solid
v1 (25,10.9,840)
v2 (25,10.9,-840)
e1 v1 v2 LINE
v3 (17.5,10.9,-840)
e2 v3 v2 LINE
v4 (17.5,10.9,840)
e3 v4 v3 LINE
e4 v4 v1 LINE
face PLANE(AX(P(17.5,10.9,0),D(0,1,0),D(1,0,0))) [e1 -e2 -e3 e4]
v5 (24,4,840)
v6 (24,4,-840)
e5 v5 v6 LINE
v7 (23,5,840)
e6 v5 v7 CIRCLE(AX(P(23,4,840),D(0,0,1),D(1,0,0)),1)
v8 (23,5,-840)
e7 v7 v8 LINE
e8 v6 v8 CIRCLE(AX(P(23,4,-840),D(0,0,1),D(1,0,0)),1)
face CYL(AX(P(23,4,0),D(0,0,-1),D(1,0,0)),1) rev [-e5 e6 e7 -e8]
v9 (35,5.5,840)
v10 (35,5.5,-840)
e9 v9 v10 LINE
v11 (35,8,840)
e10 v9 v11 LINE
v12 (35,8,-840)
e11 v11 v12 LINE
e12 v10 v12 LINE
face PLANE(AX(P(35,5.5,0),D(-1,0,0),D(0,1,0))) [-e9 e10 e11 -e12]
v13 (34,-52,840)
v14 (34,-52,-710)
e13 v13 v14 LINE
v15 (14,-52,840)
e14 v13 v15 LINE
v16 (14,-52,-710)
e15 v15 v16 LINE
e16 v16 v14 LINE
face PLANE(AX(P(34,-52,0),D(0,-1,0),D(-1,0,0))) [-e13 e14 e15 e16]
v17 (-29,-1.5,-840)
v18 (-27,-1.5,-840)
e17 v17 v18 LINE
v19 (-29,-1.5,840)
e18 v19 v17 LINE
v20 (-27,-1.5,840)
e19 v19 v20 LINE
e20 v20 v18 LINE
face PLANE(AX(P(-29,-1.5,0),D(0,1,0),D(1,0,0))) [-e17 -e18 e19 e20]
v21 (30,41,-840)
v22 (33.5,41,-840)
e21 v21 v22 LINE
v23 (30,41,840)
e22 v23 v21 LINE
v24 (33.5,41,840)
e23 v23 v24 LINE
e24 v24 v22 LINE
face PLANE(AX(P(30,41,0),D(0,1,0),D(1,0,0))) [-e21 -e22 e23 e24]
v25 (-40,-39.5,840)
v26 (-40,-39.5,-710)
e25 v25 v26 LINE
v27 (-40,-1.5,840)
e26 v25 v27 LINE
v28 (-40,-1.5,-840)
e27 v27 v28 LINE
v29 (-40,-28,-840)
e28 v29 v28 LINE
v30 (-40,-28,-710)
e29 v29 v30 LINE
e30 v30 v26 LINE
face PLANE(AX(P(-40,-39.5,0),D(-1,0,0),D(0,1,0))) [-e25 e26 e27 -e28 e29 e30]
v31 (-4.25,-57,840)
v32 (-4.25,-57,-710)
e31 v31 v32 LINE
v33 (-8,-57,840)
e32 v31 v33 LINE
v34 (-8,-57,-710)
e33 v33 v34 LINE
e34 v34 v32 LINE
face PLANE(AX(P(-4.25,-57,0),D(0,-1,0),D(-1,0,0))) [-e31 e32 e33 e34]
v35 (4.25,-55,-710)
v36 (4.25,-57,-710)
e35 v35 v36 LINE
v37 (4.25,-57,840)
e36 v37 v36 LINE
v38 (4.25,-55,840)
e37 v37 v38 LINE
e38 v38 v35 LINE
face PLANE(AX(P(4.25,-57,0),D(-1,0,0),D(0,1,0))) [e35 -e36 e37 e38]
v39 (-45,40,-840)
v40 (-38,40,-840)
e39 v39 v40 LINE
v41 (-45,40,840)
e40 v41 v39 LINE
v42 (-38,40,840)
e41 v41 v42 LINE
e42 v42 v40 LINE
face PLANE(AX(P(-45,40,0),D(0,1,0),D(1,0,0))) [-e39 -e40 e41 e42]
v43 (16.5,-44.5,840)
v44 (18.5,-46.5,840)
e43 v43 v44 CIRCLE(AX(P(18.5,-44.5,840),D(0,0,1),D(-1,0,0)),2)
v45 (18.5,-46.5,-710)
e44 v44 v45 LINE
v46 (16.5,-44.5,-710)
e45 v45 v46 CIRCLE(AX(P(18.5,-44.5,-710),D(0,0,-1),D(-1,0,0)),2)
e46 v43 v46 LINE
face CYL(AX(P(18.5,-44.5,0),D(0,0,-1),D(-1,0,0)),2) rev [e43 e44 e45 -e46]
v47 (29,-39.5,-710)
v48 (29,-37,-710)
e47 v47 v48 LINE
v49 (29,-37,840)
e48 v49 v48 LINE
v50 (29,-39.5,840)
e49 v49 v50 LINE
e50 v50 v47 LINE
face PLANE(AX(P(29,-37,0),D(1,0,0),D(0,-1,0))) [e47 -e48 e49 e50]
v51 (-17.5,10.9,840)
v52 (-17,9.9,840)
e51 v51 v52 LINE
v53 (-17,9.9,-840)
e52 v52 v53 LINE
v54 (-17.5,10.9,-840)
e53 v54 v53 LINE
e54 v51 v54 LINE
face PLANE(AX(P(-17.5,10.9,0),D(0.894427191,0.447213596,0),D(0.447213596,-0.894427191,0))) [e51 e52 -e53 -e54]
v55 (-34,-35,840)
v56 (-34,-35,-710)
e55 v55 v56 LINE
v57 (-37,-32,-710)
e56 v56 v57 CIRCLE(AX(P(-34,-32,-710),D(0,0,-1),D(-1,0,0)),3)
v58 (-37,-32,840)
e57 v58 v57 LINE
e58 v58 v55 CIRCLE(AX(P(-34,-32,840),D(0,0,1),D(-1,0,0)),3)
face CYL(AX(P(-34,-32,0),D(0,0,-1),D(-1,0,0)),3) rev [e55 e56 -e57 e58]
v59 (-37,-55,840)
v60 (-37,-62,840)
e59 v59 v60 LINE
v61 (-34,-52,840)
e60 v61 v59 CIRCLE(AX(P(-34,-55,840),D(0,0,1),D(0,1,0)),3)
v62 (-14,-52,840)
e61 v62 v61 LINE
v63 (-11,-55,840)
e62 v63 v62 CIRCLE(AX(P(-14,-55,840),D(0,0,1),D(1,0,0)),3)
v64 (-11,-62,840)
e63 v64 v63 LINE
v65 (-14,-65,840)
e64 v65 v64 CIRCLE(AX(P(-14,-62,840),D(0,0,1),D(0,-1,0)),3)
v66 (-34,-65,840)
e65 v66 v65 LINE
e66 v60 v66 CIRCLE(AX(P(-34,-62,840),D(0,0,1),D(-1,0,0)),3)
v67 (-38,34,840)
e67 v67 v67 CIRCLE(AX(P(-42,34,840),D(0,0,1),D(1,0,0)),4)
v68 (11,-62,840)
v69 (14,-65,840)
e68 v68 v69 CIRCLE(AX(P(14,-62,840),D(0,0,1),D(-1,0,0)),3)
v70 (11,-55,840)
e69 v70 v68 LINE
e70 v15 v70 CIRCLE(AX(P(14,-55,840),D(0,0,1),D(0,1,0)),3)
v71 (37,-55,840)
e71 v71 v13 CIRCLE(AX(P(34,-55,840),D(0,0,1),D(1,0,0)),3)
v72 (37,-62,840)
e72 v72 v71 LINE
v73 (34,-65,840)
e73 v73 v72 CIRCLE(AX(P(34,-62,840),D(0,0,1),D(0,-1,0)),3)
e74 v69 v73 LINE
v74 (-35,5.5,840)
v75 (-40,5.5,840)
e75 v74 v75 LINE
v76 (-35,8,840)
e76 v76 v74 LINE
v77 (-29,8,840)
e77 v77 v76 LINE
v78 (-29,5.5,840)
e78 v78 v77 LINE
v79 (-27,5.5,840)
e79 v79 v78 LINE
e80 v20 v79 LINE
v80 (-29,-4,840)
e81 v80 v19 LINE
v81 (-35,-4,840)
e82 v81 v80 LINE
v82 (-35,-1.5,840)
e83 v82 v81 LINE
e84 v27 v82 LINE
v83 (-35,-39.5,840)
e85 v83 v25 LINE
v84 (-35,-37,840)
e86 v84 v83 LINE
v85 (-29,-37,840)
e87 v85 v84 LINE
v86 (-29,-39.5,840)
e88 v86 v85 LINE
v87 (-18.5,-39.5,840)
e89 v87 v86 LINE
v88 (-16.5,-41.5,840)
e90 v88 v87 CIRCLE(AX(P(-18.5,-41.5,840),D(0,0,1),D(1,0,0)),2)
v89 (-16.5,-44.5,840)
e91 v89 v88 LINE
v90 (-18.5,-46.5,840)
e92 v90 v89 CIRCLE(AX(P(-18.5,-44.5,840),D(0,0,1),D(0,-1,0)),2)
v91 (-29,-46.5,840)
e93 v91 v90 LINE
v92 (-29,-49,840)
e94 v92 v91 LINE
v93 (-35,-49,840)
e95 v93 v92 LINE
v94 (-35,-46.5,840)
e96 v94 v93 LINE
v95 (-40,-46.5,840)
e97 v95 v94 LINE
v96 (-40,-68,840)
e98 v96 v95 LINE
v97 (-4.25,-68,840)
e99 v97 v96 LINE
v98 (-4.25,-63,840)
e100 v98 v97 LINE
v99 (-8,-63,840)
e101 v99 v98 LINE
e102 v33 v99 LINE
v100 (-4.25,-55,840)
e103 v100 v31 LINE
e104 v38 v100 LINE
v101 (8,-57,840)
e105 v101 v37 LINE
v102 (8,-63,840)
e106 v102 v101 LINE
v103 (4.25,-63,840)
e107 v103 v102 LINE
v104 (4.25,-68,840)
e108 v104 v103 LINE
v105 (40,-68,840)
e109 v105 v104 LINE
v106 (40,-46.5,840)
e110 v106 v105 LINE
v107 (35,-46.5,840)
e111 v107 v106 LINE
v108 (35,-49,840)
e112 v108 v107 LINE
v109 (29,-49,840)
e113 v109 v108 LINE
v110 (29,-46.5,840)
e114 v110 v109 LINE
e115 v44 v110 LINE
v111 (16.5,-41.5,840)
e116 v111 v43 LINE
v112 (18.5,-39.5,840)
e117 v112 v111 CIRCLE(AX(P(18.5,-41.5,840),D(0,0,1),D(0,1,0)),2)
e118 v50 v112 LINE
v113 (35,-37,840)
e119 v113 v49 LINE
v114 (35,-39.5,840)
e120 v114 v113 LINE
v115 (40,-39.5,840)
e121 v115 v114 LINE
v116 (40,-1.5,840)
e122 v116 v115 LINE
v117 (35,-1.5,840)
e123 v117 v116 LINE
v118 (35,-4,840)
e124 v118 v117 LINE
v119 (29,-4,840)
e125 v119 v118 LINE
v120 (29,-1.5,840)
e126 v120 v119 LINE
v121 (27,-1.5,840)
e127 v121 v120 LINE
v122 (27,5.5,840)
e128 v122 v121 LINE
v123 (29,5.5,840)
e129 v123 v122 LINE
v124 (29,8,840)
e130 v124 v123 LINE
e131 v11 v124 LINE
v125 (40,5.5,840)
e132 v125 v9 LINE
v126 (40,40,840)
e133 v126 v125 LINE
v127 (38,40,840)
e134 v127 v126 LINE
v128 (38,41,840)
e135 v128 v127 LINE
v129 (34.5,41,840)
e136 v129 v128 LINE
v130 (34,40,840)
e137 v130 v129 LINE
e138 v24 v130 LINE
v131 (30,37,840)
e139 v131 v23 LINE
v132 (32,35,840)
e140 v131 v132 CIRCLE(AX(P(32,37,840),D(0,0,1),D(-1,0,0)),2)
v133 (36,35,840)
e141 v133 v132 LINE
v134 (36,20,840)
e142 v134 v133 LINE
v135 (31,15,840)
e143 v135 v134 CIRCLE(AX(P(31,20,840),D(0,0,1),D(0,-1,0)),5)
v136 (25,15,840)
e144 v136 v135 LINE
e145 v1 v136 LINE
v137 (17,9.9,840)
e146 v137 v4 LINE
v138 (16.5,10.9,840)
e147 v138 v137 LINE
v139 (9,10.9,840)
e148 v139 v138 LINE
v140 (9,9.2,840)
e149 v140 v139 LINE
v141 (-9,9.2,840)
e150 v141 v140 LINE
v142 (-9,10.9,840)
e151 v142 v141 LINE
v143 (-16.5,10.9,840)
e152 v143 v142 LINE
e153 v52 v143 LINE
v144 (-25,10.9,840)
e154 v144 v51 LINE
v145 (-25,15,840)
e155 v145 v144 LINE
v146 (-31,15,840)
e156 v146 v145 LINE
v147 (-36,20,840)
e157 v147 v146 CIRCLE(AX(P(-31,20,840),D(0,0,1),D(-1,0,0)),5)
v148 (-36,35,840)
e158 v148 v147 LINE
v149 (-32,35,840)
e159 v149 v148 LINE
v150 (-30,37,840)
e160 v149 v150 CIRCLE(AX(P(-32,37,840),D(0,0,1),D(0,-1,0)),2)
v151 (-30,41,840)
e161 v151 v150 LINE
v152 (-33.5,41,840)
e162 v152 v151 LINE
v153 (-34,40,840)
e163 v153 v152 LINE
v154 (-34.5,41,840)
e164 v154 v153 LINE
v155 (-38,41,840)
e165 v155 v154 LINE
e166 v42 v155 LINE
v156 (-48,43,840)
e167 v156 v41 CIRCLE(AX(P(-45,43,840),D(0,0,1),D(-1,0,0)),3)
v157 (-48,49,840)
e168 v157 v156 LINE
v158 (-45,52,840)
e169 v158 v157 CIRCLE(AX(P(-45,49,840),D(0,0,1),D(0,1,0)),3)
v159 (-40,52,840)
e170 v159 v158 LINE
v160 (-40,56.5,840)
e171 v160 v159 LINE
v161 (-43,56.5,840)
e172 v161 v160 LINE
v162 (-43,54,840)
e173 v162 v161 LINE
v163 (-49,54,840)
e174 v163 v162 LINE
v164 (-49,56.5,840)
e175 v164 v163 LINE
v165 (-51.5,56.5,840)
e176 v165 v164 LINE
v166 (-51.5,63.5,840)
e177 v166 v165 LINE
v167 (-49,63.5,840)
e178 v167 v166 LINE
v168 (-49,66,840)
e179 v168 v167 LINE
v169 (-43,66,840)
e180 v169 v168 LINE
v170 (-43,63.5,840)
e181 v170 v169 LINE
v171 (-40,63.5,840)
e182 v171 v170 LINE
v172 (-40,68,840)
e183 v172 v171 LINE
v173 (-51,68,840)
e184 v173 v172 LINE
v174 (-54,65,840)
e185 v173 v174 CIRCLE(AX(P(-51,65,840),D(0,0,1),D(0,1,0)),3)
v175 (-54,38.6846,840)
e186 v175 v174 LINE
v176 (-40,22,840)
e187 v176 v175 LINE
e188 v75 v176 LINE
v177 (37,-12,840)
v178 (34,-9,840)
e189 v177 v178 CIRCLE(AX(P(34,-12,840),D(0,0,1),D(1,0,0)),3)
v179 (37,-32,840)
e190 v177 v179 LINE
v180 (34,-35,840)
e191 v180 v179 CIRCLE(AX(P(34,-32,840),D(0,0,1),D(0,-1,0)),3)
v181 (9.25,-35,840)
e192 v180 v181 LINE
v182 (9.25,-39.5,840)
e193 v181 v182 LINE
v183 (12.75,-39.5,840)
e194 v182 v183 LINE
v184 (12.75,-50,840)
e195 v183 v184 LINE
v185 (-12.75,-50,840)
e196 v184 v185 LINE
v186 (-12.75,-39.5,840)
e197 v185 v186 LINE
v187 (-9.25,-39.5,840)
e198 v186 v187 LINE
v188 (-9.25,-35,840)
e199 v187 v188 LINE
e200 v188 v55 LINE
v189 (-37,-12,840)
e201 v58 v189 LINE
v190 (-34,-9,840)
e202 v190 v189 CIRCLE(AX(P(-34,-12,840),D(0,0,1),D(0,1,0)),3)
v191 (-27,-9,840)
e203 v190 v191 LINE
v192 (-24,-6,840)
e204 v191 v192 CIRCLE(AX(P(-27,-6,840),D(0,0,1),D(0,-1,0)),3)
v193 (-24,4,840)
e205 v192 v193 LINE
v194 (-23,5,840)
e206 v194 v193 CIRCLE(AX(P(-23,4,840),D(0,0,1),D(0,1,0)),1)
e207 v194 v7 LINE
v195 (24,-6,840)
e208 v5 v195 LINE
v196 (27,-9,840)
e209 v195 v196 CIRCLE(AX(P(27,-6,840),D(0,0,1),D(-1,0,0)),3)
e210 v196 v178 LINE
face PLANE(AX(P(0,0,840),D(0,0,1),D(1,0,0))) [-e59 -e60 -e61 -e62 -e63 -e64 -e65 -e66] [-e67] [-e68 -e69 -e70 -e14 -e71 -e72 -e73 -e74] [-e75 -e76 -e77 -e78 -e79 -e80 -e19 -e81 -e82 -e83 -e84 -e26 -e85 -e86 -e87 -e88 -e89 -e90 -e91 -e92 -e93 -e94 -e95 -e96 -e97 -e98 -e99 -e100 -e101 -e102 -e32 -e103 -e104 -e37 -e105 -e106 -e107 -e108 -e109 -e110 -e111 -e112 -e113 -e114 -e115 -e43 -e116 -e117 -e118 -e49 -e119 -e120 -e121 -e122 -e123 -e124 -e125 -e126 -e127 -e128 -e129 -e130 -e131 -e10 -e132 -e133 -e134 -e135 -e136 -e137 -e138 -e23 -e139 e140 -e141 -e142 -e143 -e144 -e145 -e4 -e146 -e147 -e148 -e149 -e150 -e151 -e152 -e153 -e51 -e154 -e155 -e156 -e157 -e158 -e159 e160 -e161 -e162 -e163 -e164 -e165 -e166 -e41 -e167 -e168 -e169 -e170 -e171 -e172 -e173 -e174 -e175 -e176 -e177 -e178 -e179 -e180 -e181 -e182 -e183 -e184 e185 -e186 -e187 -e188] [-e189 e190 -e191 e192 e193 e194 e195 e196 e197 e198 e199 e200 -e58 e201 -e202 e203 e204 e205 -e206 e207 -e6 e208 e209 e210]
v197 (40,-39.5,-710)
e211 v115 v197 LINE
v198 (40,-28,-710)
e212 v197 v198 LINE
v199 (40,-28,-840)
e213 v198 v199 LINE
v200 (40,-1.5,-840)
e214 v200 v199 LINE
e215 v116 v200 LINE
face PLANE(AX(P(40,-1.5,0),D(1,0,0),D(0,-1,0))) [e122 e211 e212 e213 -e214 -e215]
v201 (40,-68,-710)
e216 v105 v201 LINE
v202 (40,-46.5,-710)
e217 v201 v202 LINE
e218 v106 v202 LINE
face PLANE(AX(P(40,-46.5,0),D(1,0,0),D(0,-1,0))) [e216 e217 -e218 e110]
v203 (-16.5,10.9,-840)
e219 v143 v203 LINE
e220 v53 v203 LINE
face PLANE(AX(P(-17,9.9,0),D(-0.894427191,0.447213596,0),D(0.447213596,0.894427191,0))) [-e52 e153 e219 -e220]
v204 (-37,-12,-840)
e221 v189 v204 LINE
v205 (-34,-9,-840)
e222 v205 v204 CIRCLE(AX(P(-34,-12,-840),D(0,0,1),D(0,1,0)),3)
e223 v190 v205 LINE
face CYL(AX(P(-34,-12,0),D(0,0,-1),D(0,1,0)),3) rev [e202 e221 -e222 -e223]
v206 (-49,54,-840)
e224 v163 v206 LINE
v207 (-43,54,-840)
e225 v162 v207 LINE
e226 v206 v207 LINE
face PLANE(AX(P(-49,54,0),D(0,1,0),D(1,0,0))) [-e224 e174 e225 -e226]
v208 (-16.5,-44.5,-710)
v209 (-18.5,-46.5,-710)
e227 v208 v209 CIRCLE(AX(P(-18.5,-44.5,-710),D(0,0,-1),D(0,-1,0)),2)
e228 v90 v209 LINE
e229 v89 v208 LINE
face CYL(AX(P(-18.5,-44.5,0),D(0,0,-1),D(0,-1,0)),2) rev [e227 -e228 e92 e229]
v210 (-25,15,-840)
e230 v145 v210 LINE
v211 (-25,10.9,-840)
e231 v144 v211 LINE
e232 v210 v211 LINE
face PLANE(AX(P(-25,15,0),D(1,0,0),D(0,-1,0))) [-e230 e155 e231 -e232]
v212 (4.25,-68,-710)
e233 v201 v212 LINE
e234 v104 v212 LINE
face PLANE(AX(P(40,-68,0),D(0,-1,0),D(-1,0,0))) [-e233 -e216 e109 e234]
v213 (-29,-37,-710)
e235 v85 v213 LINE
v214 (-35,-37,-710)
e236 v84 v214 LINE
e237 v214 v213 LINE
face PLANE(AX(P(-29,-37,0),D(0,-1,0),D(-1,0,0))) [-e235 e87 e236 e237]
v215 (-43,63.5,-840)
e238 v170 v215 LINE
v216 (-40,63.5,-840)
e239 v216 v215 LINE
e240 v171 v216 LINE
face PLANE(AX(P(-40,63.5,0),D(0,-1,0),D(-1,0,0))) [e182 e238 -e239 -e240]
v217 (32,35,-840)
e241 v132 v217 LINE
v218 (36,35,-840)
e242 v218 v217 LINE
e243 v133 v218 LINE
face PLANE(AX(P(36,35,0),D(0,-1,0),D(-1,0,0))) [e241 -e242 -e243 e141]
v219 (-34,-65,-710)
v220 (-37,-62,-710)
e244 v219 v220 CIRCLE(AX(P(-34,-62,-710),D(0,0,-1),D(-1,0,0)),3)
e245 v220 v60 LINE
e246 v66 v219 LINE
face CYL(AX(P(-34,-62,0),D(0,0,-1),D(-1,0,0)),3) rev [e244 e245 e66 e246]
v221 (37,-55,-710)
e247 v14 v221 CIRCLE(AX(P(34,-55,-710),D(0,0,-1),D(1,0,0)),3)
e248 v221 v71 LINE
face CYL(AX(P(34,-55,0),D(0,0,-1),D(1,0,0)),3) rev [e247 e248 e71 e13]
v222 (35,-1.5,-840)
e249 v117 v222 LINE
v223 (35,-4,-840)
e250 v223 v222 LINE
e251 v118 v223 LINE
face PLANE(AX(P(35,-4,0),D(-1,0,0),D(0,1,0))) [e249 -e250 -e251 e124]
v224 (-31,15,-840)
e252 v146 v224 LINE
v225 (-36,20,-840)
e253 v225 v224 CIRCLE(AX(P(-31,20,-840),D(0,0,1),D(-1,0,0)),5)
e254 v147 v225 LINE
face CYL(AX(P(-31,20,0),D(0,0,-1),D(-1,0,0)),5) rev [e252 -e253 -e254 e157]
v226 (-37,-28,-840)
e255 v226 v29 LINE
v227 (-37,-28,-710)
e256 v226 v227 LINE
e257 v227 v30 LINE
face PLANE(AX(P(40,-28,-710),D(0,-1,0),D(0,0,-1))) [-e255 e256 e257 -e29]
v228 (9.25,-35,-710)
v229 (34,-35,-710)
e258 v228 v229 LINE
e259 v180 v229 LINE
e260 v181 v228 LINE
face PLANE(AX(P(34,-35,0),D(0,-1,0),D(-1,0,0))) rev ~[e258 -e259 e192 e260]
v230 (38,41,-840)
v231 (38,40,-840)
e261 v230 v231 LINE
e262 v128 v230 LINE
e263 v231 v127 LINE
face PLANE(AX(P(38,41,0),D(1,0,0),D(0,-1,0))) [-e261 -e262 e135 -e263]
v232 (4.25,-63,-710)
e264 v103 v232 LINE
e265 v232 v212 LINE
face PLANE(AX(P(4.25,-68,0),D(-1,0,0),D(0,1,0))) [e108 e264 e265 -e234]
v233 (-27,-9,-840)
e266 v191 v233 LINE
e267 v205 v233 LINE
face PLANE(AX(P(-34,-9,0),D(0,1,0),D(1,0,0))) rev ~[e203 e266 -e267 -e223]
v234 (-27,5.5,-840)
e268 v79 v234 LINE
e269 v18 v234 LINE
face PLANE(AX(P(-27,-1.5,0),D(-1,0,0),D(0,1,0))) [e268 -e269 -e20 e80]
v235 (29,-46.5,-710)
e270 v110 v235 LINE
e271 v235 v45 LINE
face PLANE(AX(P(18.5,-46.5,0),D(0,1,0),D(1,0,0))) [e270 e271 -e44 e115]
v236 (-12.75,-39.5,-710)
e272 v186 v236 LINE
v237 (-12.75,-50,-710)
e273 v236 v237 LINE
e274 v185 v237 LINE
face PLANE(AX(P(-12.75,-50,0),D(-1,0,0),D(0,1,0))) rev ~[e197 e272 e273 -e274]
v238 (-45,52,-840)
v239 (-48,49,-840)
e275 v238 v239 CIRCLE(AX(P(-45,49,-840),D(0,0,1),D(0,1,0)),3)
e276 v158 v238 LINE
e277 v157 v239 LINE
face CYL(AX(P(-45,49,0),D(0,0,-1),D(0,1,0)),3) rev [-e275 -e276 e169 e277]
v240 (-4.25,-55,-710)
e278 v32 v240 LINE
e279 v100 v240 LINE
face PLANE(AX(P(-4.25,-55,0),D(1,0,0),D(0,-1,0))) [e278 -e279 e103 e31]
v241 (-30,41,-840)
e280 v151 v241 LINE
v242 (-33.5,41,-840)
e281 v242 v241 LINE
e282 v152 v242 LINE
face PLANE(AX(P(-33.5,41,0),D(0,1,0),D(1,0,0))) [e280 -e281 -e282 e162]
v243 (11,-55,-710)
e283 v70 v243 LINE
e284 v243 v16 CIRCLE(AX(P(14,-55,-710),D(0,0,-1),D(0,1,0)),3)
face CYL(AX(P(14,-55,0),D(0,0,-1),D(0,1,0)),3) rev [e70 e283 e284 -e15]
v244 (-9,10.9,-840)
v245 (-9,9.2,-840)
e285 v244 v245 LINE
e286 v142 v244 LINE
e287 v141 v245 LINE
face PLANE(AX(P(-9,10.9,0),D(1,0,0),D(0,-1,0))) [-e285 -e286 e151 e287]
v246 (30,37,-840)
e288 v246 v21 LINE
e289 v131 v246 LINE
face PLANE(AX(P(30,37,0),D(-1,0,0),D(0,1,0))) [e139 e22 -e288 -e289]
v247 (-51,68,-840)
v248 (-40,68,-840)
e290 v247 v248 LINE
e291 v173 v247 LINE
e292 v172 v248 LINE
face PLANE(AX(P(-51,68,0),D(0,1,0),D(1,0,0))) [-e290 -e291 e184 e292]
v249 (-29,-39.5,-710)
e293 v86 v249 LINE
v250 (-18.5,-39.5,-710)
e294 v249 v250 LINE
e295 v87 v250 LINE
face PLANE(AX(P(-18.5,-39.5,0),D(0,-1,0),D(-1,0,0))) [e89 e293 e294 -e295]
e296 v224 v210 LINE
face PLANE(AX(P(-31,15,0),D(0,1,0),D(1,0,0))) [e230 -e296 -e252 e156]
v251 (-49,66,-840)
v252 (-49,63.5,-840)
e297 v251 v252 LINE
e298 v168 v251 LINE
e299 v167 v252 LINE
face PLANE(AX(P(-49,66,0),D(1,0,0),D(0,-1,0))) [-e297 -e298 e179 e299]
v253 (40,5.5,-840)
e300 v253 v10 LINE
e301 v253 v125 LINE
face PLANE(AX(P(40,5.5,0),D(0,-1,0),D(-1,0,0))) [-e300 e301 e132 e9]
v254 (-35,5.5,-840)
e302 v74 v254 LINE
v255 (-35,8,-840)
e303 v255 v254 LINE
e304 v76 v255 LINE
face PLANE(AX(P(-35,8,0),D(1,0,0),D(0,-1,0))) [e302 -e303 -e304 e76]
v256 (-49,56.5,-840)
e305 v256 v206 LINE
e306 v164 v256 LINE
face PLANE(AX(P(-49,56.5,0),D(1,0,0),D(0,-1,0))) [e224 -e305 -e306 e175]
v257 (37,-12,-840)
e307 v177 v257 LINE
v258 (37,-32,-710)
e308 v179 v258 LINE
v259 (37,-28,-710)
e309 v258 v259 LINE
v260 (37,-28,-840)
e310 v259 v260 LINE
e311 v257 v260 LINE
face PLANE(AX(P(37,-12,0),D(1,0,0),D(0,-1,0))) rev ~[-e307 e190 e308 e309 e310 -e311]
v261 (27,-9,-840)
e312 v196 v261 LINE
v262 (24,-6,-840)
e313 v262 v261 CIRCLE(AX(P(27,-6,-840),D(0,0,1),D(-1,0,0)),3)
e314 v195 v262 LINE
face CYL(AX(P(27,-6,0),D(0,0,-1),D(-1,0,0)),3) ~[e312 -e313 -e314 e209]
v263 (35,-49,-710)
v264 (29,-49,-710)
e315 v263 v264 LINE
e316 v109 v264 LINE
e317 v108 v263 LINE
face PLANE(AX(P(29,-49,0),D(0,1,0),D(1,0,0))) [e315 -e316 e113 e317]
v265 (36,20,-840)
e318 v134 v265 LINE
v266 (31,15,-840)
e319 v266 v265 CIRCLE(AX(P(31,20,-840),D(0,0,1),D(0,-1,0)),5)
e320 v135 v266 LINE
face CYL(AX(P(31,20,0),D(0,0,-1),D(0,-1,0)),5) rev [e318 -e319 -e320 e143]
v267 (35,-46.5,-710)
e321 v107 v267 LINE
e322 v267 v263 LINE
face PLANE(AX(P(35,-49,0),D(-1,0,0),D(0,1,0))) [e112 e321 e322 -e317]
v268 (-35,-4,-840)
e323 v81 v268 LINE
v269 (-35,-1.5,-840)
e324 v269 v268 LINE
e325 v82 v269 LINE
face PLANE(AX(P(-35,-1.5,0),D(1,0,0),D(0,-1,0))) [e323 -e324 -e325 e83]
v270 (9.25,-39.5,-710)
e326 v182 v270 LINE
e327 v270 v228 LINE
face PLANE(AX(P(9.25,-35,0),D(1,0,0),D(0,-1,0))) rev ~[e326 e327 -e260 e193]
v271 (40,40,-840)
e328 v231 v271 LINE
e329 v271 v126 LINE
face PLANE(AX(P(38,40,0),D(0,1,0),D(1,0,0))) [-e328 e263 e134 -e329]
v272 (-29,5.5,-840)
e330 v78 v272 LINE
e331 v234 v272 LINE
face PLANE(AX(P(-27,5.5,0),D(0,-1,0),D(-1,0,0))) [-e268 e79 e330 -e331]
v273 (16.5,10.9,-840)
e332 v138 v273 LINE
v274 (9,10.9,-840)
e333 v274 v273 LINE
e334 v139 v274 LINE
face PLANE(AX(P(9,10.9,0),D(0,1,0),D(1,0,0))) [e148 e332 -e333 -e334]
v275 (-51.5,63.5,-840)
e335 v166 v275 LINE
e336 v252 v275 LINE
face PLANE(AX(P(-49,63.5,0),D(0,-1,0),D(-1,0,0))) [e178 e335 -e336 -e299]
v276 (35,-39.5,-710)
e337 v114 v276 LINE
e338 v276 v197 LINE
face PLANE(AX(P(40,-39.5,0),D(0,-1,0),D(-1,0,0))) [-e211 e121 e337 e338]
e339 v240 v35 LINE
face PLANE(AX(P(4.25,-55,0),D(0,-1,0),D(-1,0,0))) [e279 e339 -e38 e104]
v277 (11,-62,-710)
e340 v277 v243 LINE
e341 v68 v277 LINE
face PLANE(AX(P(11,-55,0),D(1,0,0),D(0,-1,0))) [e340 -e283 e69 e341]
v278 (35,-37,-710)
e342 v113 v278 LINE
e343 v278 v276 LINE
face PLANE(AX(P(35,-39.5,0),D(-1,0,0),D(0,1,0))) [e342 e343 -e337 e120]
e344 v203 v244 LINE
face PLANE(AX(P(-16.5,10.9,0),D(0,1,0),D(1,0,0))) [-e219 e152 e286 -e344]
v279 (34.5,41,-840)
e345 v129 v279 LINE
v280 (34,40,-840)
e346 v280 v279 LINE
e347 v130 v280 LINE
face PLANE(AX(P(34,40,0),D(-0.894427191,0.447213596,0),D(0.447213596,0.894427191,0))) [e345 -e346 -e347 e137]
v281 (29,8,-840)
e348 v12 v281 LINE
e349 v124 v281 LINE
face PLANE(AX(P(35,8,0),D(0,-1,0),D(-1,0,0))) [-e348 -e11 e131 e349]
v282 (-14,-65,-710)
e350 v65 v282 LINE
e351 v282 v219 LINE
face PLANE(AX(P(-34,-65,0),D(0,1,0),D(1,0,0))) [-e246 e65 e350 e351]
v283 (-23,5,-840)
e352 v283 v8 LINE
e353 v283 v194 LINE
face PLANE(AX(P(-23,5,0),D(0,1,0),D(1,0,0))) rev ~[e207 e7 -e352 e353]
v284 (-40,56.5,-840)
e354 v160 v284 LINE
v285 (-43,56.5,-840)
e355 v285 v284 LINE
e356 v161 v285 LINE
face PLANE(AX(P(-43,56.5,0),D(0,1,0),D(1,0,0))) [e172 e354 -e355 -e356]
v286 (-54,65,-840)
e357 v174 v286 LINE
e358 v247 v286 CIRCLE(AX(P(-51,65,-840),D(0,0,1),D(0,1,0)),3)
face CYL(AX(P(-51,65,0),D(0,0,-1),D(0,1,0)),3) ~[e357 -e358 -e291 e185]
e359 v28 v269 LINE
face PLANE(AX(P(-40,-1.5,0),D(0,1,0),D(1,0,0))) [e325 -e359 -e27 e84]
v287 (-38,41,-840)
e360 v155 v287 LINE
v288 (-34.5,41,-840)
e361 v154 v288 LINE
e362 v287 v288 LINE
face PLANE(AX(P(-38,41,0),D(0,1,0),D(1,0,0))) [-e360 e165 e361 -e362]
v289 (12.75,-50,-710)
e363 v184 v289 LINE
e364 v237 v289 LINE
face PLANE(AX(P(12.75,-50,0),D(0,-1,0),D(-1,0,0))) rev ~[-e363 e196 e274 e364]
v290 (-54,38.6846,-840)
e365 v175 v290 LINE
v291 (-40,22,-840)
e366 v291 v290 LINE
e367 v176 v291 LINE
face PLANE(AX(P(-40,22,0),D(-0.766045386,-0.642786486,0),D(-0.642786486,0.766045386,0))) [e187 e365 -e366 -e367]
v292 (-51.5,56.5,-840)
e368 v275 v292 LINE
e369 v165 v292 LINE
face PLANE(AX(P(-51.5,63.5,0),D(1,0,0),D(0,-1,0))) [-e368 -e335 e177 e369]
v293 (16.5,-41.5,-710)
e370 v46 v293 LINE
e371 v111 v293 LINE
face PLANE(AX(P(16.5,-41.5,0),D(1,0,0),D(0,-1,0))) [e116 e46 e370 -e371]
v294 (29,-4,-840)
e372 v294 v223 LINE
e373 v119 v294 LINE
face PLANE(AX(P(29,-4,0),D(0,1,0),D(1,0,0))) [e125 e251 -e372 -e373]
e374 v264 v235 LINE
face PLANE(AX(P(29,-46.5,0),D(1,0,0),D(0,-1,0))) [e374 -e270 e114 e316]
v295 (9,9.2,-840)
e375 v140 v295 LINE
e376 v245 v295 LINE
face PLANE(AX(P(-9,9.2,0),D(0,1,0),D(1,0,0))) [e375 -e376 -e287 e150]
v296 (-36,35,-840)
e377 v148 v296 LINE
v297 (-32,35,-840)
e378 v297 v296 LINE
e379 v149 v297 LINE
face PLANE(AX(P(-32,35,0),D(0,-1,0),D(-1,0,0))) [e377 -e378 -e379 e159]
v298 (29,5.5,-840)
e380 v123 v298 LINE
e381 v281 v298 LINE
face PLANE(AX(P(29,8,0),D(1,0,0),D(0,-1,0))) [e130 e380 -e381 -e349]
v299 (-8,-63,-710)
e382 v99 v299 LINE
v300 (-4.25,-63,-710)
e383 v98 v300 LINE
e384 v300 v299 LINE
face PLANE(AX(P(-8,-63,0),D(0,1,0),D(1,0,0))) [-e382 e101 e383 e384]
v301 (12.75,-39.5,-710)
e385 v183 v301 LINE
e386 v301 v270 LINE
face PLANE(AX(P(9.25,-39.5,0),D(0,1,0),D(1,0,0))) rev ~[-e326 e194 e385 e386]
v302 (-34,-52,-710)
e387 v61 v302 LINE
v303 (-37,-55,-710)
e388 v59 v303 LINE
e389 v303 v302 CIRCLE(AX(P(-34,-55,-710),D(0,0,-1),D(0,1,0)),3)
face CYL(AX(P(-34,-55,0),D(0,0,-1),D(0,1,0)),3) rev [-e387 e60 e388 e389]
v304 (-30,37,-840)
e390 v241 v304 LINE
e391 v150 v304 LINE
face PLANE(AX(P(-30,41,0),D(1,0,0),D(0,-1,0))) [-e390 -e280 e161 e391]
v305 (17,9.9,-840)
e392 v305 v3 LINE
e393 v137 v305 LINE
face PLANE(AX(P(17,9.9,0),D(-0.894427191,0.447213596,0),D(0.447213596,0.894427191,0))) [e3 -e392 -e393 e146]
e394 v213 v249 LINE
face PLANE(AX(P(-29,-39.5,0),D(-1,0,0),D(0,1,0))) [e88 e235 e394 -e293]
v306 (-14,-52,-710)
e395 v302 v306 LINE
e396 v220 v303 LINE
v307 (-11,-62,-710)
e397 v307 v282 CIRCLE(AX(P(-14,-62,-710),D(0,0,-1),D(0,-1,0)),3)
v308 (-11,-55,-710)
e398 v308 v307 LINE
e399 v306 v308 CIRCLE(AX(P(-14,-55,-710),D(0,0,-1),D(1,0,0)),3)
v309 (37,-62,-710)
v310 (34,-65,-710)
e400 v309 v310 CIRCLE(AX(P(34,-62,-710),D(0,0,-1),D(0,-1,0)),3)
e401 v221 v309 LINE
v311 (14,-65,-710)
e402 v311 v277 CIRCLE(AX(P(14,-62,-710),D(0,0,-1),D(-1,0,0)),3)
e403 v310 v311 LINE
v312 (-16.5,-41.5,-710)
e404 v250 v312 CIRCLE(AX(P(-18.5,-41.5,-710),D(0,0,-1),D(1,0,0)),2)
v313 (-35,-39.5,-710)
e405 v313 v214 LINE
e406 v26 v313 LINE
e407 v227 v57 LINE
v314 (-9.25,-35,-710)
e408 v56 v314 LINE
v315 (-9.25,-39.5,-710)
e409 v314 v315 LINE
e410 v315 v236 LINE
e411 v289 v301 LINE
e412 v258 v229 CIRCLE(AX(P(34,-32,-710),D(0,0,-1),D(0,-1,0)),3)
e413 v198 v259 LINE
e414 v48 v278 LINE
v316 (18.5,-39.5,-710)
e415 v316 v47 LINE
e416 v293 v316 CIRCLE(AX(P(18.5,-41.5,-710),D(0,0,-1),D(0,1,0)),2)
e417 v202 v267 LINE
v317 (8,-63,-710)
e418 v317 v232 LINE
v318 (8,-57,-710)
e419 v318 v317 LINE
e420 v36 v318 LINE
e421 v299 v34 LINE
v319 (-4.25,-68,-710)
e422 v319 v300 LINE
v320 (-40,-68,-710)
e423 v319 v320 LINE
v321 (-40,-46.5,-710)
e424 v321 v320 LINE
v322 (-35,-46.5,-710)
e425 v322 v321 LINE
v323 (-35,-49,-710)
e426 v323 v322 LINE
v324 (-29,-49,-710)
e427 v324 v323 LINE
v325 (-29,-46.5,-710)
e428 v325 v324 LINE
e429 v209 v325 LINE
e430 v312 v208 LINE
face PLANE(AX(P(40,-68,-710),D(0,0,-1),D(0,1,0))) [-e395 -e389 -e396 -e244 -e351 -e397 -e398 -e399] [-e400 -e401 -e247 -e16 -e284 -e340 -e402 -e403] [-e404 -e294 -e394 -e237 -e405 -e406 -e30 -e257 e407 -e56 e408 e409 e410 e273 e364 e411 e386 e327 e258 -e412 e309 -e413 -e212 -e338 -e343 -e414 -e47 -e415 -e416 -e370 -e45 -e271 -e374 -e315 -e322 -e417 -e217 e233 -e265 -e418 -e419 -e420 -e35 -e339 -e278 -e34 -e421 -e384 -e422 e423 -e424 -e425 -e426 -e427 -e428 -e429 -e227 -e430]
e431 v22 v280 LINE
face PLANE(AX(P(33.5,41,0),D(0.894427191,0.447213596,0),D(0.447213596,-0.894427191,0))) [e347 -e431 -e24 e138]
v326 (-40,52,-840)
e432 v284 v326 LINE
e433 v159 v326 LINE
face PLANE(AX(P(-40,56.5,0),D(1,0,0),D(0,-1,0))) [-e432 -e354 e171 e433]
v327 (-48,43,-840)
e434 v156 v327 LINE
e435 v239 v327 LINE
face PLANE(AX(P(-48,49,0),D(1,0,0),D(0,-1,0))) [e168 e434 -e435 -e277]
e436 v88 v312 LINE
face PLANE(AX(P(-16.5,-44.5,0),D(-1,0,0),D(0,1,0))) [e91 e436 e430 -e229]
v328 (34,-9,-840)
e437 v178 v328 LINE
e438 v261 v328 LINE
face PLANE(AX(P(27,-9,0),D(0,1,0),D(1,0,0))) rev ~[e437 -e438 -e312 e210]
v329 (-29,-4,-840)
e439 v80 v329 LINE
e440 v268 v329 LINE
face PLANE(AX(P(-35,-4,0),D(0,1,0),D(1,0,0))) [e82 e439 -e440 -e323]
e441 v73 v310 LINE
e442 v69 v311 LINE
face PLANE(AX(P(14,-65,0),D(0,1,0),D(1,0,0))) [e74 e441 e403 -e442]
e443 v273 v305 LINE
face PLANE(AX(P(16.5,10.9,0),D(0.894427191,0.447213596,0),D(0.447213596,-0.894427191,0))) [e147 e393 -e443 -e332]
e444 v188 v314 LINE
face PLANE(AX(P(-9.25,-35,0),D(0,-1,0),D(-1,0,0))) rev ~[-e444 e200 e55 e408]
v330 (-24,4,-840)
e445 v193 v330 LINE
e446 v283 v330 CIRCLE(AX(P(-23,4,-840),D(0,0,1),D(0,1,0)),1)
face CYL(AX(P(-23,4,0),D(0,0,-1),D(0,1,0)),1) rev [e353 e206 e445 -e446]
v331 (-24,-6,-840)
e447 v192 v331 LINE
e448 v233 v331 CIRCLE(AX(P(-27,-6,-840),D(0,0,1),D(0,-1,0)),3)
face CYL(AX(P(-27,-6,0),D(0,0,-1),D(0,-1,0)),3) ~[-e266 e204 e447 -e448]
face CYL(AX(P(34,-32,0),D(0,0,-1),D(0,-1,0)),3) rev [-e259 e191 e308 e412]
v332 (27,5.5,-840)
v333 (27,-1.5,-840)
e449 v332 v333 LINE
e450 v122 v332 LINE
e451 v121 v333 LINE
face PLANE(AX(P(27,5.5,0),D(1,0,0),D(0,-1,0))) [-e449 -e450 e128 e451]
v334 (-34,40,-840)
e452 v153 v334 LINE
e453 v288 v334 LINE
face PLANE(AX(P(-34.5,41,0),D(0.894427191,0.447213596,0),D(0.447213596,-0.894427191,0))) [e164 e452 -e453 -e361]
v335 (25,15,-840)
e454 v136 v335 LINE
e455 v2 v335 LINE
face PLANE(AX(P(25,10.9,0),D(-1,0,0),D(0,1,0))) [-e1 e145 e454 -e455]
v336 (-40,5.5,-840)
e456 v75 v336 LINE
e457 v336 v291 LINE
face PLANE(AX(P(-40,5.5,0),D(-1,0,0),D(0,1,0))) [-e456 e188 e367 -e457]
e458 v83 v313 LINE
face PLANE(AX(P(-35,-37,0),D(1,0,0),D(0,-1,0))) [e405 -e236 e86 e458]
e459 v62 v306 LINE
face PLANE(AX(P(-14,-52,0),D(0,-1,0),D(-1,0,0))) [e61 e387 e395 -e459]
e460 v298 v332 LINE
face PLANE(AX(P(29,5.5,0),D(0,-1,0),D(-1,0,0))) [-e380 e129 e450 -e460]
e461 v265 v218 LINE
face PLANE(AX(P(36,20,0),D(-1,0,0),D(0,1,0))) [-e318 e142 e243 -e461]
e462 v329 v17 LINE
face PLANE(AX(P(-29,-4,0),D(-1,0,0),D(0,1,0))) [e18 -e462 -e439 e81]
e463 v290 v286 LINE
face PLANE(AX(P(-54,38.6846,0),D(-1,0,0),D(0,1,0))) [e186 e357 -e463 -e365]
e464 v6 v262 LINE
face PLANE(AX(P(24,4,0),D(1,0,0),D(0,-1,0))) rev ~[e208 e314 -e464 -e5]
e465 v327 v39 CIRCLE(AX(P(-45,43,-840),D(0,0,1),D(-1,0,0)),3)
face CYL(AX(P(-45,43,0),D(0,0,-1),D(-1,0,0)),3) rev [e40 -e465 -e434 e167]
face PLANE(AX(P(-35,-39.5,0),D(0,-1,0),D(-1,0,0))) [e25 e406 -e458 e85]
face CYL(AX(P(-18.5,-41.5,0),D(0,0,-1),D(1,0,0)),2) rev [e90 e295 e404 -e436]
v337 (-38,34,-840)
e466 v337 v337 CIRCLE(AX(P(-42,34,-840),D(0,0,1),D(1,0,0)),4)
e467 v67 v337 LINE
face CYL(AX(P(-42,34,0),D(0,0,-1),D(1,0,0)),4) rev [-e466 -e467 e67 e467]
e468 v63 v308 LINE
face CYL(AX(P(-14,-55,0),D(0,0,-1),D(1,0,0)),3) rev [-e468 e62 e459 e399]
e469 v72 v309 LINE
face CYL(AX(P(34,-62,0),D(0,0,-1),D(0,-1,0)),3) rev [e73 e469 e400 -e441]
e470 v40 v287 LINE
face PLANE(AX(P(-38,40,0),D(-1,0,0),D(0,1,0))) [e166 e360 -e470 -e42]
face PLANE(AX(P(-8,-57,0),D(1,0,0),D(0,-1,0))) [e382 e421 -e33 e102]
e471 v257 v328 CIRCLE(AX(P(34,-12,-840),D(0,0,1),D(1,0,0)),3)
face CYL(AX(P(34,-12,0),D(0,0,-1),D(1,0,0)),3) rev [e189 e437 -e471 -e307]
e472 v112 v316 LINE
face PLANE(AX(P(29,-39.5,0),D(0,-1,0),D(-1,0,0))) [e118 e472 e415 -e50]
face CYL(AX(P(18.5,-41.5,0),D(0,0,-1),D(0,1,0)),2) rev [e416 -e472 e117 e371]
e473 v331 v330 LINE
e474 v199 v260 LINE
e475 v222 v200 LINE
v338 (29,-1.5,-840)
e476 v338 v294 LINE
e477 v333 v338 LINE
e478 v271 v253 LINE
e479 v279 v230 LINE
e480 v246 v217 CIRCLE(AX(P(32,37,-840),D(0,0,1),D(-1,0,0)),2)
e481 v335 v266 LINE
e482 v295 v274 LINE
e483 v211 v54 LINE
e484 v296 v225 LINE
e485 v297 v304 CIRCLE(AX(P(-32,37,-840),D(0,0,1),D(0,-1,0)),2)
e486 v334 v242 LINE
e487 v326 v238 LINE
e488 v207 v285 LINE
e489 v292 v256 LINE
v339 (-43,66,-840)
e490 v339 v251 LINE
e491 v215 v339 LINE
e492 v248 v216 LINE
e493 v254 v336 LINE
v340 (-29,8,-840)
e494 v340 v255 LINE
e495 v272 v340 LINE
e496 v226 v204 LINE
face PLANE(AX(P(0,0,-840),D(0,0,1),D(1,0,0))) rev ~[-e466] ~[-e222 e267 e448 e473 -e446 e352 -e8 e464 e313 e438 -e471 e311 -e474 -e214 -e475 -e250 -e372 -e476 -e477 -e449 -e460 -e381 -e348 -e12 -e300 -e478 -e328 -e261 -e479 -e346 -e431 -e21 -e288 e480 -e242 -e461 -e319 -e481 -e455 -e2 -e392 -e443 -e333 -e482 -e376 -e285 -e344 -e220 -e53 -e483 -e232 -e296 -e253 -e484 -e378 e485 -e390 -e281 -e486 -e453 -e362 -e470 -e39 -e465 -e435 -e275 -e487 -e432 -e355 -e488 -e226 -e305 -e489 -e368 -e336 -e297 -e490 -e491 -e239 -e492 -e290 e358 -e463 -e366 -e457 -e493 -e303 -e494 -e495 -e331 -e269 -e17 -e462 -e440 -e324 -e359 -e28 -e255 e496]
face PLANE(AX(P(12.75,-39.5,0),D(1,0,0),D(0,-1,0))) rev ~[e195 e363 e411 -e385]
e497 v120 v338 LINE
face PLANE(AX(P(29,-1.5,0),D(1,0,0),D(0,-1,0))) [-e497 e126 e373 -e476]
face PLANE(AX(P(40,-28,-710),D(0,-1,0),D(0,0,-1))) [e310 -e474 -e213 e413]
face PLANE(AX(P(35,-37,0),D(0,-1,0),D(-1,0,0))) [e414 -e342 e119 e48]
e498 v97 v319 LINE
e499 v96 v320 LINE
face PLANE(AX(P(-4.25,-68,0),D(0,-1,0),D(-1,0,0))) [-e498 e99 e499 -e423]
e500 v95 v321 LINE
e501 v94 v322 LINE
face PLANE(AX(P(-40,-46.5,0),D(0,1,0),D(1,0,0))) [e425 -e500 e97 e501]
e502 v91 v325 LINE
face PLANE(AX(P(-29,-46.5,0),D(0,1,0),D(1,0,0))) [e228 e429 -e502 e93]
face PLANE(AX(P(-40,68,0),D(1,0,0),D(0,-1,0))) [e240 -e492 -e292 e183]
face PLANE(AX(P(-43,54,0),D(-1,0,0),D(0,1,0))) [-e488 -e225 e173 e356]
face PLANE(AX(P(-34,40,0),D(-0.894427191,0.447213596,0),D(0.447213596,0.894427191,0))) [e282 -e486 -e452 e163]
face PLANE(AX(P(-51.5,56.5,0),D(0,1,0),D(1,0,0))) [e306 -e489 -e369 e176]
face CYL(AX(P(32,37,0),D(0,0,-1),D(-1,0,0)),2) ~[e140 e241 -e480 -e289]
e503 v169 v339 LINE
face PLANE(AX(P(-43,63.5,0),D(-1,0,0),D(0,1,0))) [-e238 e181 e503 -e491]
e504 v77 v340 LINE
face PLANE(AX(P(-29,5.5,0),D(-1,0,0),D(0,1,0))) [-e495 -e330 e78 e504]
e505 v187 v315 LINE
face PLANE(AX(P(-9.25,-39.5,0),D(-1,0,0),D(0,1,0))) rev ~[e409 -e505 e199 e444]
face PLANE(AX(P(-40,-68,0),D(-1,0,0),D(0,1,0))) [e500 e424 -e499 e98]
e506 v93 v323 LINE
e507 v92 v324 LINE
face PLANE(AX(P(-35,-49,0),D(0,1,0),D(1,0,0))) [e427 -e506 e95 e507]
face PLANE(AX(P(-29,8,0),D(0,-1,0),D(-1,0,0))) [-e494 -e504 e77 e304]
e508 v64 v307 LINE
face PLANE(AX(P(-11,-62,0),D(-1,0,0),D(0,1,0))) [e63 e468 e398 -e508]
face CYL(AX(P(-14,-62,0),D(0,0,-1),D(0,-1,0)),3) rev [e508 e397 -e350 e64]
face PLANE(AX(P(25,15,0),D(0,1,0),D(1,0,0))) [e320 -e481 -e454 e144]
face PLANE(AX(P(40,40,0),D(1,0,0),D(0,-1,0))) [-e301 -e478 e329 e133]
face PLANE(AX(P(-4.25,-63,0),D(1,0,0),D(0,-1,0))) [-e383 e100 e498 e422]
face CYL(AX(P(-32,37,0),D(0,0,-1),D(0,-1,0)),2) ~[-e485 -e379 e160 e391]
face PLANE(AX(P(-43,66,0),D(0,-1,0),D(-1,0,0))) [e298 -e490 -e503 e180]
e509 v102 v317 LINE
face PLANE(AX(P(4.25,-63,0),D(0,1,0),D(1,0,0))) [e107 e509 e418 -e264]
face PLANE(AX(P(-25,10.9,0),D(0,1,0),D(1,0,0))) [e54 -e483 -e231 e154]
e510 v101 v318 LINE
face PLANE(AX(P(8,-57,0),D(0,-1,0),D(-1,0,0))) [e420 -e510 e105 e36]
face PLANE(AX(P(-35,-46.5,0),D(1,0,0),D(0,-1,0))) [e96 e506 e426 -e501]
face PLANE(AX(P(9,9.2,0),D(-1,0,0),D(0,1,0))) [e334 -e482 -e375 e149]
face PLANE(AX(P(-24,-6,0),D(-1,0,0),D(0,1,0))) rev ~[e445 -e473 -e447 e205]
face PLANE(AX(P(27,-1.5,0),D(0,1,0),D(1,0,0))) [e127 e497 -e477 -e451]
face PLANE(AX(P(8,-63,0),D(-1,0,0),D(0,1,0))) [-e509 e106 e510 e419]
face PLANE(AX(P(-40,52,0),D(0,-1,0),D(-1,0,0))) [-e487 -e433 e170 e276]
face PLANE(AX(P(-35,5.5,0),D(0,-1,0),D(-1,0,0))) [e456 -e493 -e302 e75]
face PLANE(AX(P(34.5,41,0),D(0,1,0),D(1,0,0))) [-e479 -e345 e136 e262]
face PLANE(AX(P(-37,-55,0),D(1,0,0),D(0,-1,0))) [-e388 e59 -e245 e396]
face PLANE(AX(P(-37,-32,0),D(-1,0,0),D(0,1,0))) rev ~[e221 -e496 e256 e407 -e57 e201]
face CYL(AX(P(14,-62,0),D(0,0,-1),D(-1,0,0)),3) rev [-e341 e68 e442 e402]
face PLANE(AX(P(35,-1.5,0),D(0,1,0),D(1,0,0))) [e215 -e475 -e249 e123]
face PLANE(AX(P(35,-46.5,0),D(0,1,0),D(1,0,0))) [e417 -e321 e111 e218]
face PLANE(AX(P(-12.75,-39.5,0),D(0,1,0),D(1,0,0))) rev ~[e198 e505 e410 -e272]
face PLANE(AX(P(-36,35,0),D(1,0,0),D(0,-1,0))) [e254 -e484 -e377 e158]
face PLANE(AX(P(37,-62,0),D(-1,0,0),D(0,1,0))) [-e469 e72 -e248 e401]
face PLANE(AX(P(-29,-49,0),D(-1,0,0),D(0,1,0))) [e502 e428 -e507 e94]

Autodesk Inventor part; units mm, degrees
ref_plane "YZ Plane" through (0, 0, 0) normal (1, 0, 0) x (0, 1, 0)
ref_plane "XZ Plane" through (0, 0, 0) normal (0, 1, 0) x (-1, 0, 0)
ref_plane "XY Plane" through (0, 0, 0) normal (0, 0, 1) x (1, 0, 0)
sketch "스케치9" plane through (0, 0, 0) normal (0, 0, 1) x (1, 0, 0)
  line L0 (40, 5.5) -> (35, 5.5)
  line L1 (35, 5.5) -> (35, 8)
  line L2 (35, 8) -> (29, 8)
  line L3 (29, 8) -> (29, 5.5)
  line L4 (29, 5.5) -> (27, 5.5)
  line L5 (27, 5.5) -> (27, -1.5)
  line L6 (29, -1.5) -> (29, -4)
  line L7 (29, -4) -> (35, -4)
  line L8 (35, -4) -> (35, -1.5)
  line L9 (35, -1.5) -> (40, -1.5)
  line L10 (40, -1.5) -> (40, -39.5)
  line L11 (40, -39.5) -> (35, -39.5)
  line L12 (35, -39.5) -> (35, -37)
  line L13 (35, -37) -> (29, -37)
  line L14 (29, -37) -> (29, -39.5)
  line L15 (29, -39.5) -> (18.5, -39.5)
  arc A0 (18.5, -39.5) -> (16.5, -41.5) centre (18.5, -41.5) ccw
  line L16 (16.5, -41.5) -> (16.5, -44.5)
  arc A1 (16.5, -44.5) -> (18.5, -46.5) centre (18.5, -44.5) ccw
  line L17 (18.5, -46.5) -> (29, -46.5)
  line L18 (29, -46.5) -> (29, -49)
  line L19 (29, -49) -> (35, -49)
  line L20 (35, -49) -> (35, -46.5)
  line L21 (35, -46.5) -> (40, -46.5)
  line L22 (40, -46.5) -> (40, -68)
  line L23 (40, -68) -> (4.25, -68)
  line L24 (4.25, -68) -> (4.25, -63)
  line L25 (4.25, -63) -> (8, -63)
  line L26 (8, -63) -> (8, -57)
  line L27 (8, -57) -> (4.25, -57)
  line L28 (4.25, -57) -> (4.25, -55)
  line L29 (4.25, -55) -> (-4.25, -55)
  line L30 (-4.25, -55) -> (-4.25, -57)
  line L31 (-4.25, -57) -> (-8, -57)
  line L32 (-8, -57) -> (-8, -63)
  line L33 (-8, -63) -> (-4.25, -63)
  line L34 (-4.25, -63) -> (-4.25, -68)
  line L35 (-4.25, -68) -> (-40, -68)
  line L36 (-40, -68) -> (-40, -46.5)
  line L37 (-40, -46.5) -> (-35, -46.5)
  line L38 (-35, -46.5) -> (-35, -49)
  line L39 (-35, -49) -> (-29, -49)
  line L40 (-29, -49) -> (-29, -46.5)
  line L41 (-29, -46.5) -> (-18.5, -46.5)
  arc A2 (-18.5, -46.5) -> (-16.5, -44.5) centre (-18.5, -44.5) ccw
  line L42 (-16.5, -44.5) -> (-16.5, -41.5)
  arc A3 (-16.5, -41.5) -> (-18.5, -39.5) centre (-18.5, -41.5) ccw
  line L43 (-18.5, -39.5) -> (-29, -39.5)
  line L44 (-29, -39.5) -> (-29, -37)
  line L45 (-29, -37) -> (-35, -37)
  line L46 (-35, -37) -> (-35, -39.5)
  line L47 (-35, -39.5) -> (-40, -39.5)
  line L48 (-40, -39.5) -> (-40, -1.5)
  line L49 (-40, -1.5) -> (-35, -1.5)
  line L50 (-35, -1.5) -> (-35, -4)
  line L51 (-35, -4) -> (-29, -4)
  line L52 (-29, -4) -> (-29, -1.5)
  line L53 (-29, -1.5) -> (-27, -1.5)
  line L54 (-27, -1.5) -> (-27, 5.5)
  line L55 (-27, 5.5) -> (-29, 5.5)
  line L56 (-29, 5.5) -> (-29, 8)
  line L57 (-29, 8) -> (-35, 8)
  line L58 (-35, 8) -> (-35, 5.5)
  line L59 (-35, 5.5) -> (-40, 5.5)
  line L60 (-40, 5.5) -> (-40, 22)
  line L61 (-40, 22) -> (-54, 38.6846)
  line L62 (-54, 38.6846) -> (-54, 65)
  arc A4 (-51, 68) -> (-54, 65) centre (-51, 65) ccw
  line L63 (-51, 68) -> (-40, 68)
  line L64 (-40, 68) -> (-40, 63.5)
  line L65 (-40, 63.5) -> (-43, 63.5)
  line L66 (-43, 63.5) -> (-43, 66)
  line L67 (-43, 66) -> (-49, 66)
  line L68 (-49, 66) -> (-49, 63.5)
  line L69 (27, -1.5) -> (29, -1.5)
  line L70 (-51.5, 63.5) -> (-51.5, 56.5)
  line L71 (-51.5, 56.5) -> (-49, 56.5)
  line L72 (-49, 56.5) -> (-49, 54)
  line L73 (-49, 54) -> (-43, 54)
  line L74 (-43, 54) -> (-43, 56.5)
  line L75 (-43, 56.5) -> (-40, 56.5)
  line L76 (-40, 56.5) -> (-40, 52)
  line L77 (-40, 52) -> (-45, 52)
  arc A5 (-45, 52) -> (-48, 49) centre (-45, 49) ccw
  line L78 (-48, 49) -> (-48, 43)
  arc A6 (-48, 43) -> (-45, 40) centre (-45, 43) ccw
  line L79 (-45, 40) -> (-38, 40)
  line L80 (-38, 40) -> (-38, 41)
  line L81 (-38, 41) -> (-34.5, 41)
  line L82 (-34.5, 41) -> (-34, 40)
  line L83 (-34, 40) -> (-33.5, 41)
  line L84 (-33.5, 41) -> (-30, 41)
  line L85 (-30, 41) -> (-30, 37)
  arc A7 (-32, 35) -> (-30, 37) centre (-32, 37) ccw
  line L86 (-32, 35) -> (-36, 35)
  line L87 (-36, 35) -> (-36, 20)
  arc A8 (-36, 20) -> (-31, 15) centre (-31, 20) ccw
  line L88 (-31, 15) -> (-25, 15)
  line L89 (-25, 15) -> (-25, 10.9)
  line L90 (-25, 10.9) -> (-17.5, 10.9)
  line L91 (-17.5, 10.9) -> (-17, 9.9)
  line L92 (-17, 9.9) -> (-16.5, 10.9)
  line L93 (-16.5, 10.9) -> (-9, 10.9)
  line L94 (-9, 10.9) -> (-9, 9.2)
  line L95 (-9, 9.2) -> (9, 9.2)
  line L96 (9, 9.2) -> (9, 10.9)
  line L97 (9, 10.9) -> (16.5, 10.9)
  line L98 (16.5, 10.9) -> (17, 9.9)
  line L99 (17, 9.9) -> (17.5, 10.9)
  line L100 (17.5, 10.9) -> (25, 10.9)
  line L101 (25, 10.9) -> (25, 15)
  line L102 (25, 15) -> (31, 15)
  arc A9 (31, 15) -> (36, 20) centre (31, 20) ccw
  line L103 (36, 20) -> (36, 35)
  line L104 (36, 35) -> (32, 35)
  arc A10 (30, 37) -> (32, 35) centre (32, 37) ccw
  line L105 (30, 37) -> (30, 41)
  line L106 (30, 41) -> (33.5, 41)
  line L107 (33.5, 41) -> (34, 40)
  line L108 (34, 40) -> (34.5, 41)
  line L109 (34.5, 41) -> (38, 41)
  line L110 (38, 41) -> (38, 40)
  line L111 (38, 40) -> (40, 40)
  line L112 (40, 40) -> (40, 5.5)
  line L113 (-23, 5) -> (23, 5)
  arc A11 (24, 4) -> (23, 5) centre (23, 4) ccw
  line L114 (24, 4) -> (24, -6)
  arc A12 (24, -6) -> (27, -9) centre (27, -6) ccw
  line L115 (27, -9) -> (34, -9)
  arc A13 (37, -12) -> (34, -9) centre (34, -12) ccw
  line L116 (37, -12) -> (37, -32)
  arc A14 (34, -35) -> (37, -32) centre (34, -32) ccw
  line L117 (34, -35) -> (9.25, -35)
  line L118 (9.25, -35) -> (9.25, -39.5)
  line L119 (9.25, -39.5) -> (12.75, -39.5)
  line L120 (12.75, -39.5) -> (12.75, -50)
  line L121 (12.75, -50) -> (-12.75, -50)
  line L122 (-12.75, -50) -> (-12.75, -39.5)
  line L123 (-12.75, -39.5) -> (-9.25, -39.5)
  line L124 (-9.25, -39.5) -> (-9.25, -35)
  line L125 (-9.25, -35) -> (-34, -35)
  arc A15 (-37, -32) -> (-34, -35) centre (-34, -32) ccw
  line L126 (-49, 63.5) -> (-51.5, 63.5)
  arc A16 (-34, -9) -> (-37, -12) centre (-34, -12) ccw
  line L127 (-34, -9) -> (-27, -9)
  arc A17 (-27, -9) -> (-24, -6) centre (-27, -6) ccw
  line L128 (-24, -6) -> (-24, 4)
  arc A18 (-23, 5) -> (-24, 4) centre (-23, 4) ccw
  arc A19 (37, -55) -> (34, -52) centre (34, -55) ccw
  line L129 (34, -52) -> (14, -52)
  arc A20 (14, -52) -> (11, -55) centre (14, -55) ccw
  line L130 (11, -55) -> (11, -62)
  arc A21 (11, -62) -> (14, -65) centre (14, -62) ccw
  line L131 (14, -65) -> (34, -65)
  arc A22 (34, -65) -> (37, -62) centre (34, -62) ccw
  line L132 (37, -62) -> (37, -55)
  arc A23 (-37, -62) -> (-34, -65) centre (-34, -62) ccw
  line L133 (-34, -65) -> (-14, -65)
  arc A24 (-14, -65) -> (-11, -62) centre (-14, -62) ccw
  line L134 (-11, -62) -> (-11, -55)
  arc A25 (-11, -55) -> (-14, -52) centre (-14, -55) ccw
  line L135 (-14, -52) -> (-34, -52)
  arc A26 (-34, -52) -> (-37, -55) centre (-34, -55) ccw
  line L136 (-37, -55) -> (-37, -62)
  circle A27 centre (-42, 34) radius 4
  line L137 (-37, -32) -> (-37, -12)
  point P0 (0, 0)
  point P1 (0, 0)
  point P2 (-41.1372, 2)
  point P3 (-40.2674, -43)
extrude "돌출4" add sketch "스케치9" along normal mid plane 1680
sketch "스케치10" plane through (40, -46.5, 840) normal (1, 0, 0) x (0, 0, -1)
  line L0 (1680, -21.5) -> (0, -21.5) construction
  line L1 (0, -21.5) -> (130, -21.5)
  line L2 (130, -21.5) -> (130, 18.5)
  line L3 (130, 18.5) -> (0, 18.5)
  line L4 (0, 18.5) -> (0, -21.5)
  line L5 (1680, -21.5) -> (1550, -21.5)
  line L6 (1550, -21.5) -> (1550, 18.5)
  line L7 (1550, 18.5) -> (1680, 18.5)
  line L8 (1680, 18.5) -> (1680, -21.5)
  point P0 (840, 46.5)
  dimension "d42" = 40
  dimension "d43" = 130
  dimension "d44" = 130
extrude "돌출5" cut sketch "스케치10" against normal through all contours L5 L6 L7 L8
equation "\"d44\" = d43"
properties part number "TL20240701-10100CV-DY1054-2" material "SS400"
